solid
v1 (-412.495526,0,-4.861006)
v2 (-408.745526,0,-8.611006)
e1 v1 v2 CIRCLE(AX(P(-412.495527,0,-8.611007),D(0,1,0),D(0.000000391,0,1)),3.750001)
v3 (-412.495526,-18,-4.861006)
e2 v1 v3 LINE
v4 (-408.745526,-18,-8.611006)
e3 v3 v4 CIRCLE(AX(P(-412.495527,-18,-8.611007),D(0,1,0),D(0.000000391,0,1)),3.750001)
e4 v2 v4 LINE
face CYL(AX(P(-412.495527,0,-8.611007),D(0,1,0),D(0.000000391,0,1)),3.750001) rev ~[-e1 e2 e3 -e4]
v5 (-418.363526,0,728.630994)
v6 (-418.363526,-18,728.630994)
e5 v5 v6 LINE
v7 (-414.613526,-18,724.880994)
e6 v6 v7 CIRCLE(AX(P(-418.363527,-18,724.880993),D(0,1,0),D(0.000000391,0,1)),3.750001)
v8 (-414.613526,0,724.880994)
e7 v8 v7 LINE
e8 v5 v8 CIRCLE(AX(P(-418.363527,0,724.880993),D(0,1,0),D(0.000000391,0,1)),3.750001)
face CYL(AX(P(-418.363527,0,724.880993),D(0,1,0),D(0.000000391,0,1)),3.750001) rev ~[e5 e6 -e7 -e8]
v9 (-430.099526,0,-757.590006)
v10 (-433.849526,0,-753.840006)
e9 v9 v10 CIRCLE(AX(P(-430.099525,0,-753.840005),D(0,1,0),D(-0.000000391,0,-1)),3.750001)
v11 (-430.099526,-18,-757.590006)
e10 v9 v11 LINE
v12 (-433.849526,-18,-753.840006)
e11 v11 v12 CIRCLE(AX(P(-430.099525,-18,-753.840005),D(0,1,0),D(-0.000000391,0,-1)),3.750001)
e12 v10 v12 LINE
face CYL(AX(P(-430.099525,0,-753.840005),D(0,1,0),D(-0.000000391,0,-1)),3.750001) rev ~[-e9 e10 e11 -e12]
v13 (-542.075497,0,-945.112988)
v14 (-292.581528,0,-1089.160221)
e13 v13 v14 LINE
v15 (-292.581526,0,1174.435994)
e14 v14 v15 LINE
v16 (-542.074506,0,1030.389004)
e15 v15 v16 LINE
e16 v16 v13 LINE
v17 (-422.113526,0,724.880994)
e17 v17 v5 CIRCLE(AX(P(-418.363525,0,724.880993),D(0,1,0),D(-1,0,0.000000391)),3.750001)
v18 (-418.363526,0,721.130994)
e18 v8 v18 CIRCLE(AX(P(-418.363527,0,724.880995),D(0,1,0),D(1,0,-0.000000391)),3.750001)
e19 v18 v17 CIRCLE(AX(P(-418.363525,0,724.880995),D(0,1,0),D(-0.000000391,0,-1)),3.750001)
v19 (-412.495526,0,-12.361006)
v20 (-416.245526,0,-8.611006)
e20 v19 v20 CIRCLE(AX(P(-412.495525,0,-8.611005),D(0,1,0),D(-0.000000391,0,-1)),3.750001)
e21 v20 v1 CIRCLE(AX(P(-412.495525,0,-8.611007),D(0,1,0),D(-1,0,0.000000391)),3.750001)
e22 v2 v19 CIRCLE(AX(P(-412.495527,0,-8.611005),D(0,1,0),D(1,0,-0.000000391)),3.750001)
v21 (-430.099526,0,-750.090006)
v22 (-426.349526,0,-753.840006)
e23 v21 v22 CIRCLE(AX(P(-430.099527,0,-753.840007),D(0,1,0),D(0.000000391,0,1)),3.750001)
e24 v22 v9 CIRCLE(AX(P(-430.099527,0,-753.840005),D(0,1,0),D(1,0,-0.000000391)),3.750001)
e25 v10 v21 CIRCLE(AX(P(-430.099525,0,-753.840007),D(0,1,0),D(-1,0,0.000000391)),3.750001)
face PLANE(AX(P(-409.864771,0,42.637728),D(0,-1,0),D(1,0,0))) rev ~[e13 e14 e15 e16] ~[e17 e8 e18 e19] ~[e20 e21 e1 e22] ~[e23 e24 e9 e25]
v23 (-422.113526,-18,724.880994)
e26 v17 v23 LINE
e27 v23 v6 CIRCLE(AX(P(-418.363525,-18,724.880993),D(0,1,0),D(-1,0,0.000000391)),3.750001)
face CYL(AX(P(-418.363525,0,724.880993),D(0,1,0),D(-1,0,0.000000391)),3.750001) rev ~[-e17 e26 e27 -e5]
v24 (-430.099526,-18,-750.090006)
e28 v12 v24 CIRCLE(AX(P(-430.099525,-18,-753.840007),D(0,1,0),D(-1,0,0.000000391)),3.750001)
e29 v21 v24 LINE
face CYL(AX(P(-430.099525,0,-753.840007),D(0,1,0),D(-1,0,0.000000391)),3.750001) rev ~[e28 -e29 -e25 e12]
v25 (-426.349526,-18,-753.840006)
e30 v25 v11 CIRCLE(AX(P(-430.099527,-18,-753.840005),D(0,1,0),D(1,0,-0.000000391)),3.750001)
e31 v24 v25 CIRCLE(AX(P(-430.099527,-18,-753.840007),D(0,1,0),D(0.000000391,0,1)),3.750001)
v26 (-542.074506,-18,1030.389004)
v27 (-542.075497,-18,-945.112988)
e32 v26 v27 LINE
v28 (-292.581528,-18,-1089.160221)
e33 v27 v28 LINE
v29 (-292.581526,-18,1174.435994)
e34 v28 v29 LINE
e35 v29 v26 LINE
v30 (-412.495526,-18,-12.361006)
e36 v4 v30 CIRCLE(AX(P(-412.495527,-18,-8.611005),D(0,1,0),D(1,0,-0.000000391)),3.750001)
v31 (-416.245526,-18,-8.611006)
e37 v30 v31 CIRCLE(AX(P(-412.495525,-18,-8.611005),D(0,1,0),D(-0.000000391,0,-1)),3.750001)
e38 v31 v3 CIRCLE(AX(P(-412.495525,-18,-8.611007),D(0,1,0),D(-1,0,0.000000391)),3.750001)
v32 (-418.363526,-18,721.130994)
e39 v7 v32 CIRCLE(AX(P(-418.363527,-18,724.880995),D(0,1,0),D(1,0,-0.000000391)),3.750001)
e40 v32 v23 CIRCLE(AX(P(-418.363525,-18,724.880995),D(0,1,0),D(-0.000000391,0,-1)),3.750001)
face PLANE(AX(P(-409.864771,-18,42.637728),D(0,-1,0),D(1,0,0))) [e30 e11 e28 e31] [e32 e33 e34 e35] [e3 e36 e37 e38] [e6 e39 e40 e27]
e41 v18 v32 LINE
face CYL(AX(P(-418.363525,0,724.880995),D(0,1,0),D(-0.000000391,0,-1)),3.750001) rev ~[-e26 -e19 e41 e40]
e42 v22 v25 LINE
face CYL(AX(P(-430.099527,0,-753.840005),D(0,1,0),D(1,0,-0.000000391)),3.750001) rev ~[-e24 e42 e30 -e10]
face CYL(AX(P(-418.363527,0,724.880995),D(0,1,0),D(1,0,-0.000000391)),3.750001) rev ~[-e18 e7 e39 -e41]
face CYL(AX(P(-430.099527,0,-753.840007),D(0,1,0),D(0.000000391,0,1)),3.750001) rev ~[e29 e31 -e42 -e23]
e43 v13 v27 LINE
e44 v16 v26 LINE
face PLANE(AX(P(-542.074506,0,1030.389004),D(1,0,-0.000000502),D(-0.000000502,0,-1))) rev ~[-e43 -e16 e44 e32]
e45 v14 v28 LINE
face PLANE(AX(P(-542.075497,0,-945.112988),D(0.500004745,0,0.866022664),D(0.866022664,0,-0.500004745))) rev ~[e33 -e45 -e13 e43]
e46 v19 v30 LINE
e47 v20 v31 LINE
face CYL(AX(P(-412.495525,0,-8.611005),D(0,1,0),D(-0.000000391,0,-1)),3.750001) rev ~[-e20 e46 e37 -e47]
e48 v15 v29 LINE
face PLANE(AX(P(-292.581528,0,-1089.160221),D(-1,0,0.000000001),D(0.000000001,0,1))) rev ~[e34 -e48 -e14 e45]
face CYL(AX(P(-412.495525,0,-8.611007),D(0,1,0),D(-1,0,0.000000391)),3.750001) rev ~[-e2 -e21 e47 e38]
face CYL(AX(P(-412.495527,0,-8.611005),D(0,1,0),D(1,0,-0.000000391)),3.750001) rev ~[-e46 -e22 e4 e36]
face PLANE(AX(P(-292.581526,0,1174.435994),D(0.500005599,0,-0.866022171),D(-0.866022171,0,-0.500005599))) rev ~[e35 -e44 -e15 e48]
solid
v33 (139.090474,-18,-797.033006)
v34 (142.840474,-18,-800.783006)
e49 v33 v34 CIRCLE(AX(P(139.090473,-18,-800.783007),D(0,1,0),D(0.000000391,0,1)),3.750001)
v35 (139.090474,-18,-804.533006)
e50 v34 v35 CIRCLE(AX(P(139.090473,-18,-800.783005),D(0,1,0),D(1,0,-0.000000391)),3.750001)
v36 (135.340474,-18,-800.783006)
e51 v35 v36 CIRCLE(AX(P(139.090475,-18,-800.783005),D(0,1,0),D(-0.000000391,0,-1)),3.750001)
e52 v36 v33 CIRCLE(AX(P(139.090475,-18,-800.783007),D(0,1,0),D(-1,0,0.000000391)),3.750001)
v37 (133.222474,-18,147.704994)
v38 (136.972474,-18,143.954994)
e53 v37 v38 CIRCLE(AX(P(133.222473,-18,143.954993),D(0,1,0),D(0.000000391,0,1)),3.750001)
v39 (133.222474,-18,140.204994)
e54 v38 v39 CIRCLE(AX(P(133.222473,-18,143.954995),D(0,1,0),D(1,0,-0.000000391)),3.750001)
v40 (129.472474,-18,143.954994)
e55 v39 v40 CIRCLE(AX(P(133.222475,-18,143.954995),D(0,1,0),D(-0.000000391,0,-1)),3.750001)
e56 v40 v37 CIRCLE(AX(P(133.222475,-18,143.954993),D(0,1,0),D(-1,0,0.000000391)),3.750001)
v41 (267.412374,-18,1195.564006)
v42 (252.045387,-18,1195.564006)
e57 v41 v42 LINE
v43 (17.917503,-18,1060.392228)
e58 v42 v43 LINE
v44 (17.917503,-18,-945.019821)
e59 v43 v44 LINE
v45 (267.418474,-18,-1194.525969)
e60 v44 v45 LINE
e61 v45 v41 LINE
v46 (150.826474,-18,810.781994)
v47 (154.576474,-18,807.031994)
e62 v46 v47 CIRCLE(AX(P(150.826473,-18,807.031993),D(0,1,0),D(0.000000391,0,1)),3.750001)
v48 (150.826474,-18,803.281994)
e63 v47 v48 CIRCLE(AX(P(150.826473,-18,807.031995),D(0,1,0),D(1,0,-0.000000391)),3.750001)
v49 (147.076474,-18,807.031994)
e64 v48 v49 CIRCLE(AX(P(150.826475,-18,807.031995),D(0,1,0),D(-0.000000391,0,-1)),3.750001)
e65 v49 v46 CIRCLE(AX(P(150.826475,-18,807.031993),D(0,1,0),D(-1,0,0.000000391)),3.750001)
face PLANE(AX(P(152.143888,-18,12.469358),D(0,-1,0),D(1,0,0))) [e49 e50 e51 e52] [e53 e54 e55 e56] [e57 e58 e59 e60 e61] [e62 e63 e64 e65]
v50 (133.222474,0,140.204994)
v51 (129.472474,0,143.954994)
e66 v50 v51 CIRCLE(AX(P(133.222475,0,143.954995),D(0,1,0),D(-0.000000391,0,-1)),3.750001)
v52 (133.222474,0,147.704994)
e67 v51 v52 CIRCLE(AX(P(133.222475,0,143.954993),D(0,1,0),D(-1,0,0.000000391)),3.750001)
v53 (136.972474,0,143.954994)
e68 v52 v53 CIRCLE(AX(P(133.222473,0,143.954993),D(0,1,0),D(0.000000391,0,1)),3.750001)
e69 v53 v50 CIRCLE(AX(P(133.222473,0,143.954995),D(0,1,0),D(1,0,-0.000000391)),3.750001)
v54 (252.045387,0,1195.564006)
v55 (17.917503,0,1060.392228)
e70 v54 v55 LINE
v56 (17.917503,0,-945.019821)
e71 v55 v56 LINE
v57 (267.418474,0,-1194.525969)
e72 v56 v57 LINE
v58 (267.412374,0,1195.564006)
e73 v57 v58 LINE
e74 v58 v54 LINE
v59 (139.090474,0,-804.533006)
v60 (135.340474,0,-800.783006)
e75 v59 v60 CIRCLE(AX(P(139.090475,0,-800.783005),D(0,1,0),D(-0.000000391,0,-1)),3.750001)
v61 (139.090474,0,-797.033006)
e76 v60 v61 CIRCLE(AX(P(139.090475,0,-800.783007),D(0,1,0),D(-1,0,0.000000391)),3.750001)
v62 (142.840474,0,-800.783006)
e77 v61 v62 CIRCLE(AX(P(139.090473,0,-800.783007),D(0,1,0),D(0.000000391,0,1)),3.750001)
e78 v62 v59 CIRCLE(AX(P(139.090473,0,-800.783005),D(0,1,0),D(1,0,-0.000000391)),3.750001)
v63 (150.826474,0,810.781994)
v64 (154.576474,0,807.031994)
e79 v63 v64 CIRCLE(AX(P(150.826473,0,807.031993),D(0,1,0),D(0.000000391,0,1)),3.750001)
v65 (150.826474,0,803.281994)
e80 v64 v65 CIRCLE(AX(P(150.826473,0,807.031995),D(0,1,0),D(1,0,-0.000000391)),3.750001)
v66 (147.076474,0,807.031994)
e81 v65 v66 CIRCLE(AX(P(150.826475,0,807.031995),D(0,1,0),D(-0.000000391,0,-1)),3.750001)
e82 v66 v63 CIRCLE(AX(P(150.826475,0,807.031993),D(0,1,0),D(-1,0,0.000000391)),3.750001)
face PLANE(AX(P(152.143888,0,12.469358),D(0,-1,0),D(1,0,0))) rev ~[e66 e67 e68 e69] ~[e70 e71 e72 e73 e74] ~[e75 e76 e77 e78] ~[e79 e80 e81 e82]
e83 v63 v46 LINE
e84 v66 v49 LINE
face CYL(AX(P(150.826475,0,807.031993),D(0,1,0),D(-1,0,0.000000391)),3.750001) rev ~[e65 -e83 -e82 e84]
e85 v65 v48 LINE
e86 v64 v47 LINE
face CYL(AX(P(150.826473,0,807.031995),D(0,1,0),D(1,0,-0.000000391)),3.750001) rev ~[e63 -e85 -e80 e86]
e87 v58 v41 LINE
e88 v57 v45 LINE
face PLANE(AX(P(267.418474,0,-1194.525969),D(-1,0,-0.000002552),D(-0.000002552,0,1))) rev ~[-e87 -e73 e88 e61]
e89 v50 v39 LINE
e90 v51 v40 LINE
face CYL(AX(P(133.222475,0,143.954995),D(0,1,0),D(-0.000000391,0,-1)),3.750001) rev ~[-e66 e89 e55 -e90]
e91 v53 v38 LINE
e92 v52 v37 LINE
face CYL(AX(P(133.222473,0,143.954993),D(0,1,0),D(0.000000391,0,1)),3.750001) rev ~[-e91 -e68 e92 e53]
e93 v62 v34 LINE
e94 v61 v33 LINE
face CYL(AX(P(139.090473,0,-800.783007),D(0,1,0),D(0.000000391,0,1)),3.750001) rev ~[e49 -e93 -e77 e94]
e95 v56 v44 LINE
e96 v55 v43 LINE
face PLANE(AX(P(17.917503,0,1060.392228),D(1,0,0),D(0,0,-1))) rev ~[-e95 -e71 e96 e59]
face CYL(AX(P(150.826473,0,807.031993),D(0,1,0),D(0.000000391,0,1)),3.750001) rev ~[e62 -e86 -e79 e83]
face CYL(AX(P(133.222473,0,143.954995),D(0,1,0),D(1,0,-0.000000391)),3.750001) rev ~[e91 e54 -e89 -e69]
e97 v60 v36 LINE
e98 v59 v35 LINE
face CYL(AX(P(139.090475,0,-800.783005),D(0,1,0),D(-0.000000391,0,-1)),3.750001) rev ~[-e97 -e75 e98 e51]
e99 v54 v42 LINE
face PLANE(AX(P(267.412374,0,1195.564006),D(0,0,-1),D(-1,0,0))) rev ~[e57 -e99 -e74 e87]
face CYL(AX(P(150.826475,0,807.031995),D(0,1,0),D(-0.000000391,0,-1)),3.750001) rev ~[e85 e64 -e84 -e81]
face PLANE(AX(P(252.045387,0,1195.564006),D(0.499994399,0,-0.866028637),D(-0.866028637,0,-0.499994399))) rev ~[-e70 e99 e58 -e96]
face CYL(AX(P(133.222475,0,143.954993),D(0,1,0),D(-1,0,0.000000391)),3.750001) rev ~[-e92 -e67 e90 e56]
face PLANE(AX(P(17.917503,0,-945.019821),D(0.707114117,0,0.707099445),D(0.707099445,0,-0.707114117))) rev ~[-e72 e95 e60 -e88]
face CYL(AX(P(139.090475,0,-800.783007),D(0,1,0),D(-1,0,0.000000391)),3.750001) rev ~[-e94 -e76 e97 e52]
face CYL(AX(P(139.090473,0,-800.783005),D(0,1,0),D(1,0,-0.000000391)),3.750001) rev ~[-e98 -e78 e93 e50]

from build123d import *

# Parameters (mm, degrees)
F1_DEPTH = 18
F2_DEPTH = 18


with BuildPart() as f1:
    # F0 (on Front) → F1 (new body)
    with BuildSketch(Plane.XZ):
        Polygon((-292.581528, -1089.160221), (-292.581526, 1174.435994), (-542.074506, 1030.389004), (-542.075497, -945.112988), align=None)
        with BuildLine():
            ThreePointArc((-433.849526, -753.840006), (-432.751176, -751.188356), (-430.099526, -750.090006))
            ThreePointArc((-430.099526, -750.090006), (-427.447876, -751.188356), (-426.349526, -753.840006))
            ThreePointArc((-426.349526, -753.840006), (-427.447876, -756.491656), (-430.099526, -757.590006))
            ThreePointArc((-430.099526, -757.590006), (-432.751176, -756.491656), (-433.849526, -753.840006))
        make_face(mode=Mode.SUBTRACT)
        with BuildLine():
            ThreePointArc((-416.245526, -8.611006), (-415.147176, -5.959356), (-412.495526, -4.861006))
            ThreePointArc((-412.495526, -4.861006), (-409.843876, -5.959356), (-408.745526, -8.611006))
            ThreePointArc((-408.745526, -8.611006), (-409.843876, -11.262656), (-412.495526, -12.361006))
            ThreePointArc((-412.495526, -12.361006), (-415.147176, -11.262656), (-416.245526, -8.611006))
        make_face(mode=Mode.SUBTRACT)
        Polygon((-428.823632, 92.789807), (-428.8264, 93.203596), (-428.829803, 93.623463), (-428.822563, 94.042433), (-428.804756, 94.460314), (-428.776457, 94.876914), (-428.737742, 95.292039), (-428.688687, 95.705497), (-428.629367, 96.117094), (-428.559858, 96.526638), (-428.480236, 96.933936), (-428.390576, 97.338795), (-428.290955, 97.741022), (-428.181447, 98.140424), (-428.062128, 98.536809), (-427.933075, 98.929984), (-427.794363, 99.319755), (-427.646067, 99.70593), (-427.488263, 100.088315), (-427.321027, 100.466719), (-427.144434, 100.840948), (-426.958561, 101.21081), (-426.763483, 101.576111), (-426.559276, 101.936658), (-426.346014, 102.292259), (-426.123775, 102.642721), (-425.892633, 102.987851), (-425.652665, 103.327456), (-425.403946, 103.661344), (-425.146551, 103.98932), (-424.880557, 104.311193), (-424.606039, 104.62677), (-424.323072, 104.935858), (-424.031733, 105.238263), (-423.651452, 105.588123), (-423.263264, 105.927644), (-422.867403, 106.256738), (-422.464103, 106.575315), (-422.053598, 106.883287), (-421.636122, 107.180564), (-421.211908, 107.467058), (-420.781192, 107.74268), (-420.344205, 108.007341), (-419.901183, 108.260952), (-419.452359, 108.503424), (-418.997968, 108.734669), (-418.538242, 108.954598), (-418.073416, 109.163121), (-417.603724, 109.36015), (-417.1294, 109.545596), (-416.650677, 109.71937), (-416.16779, 109.881384), (-415.680972, 110.031548), (-415.190457, 110.169773), (-414.69648, 110.295971), (-414.199273, 110.410053), (-413.699071, 110.51193), (-413.196108, 110.601513), (-412.690618, 110.678713), (-412.182834, 110.743441), (-411.672991, 110.795609), (-411.161322, 110.835127), (-410.648061, 110.861908), (-410.133442, 110.875861), (-409.617699, 110.876898), (-409.101067, 110.86493), (-408.539946, 110.881001), (-407.979756, 110.882779), (-407.420757, 110.870361), (-406.863207, 110.843846), (-406.307367, 110.803331), (-405.753494, 110.748914), (-405.20185, 110.680692), (-404.652692, 110.598763), (-404.10628, 110.503225), (-403.562873, 110.394174), (-403.022731, 110.27171), (-402.486113, 110.13593), (-401.953279, 109.98693), (-401.424486, 109.82481), (-400.899996, 109.649666), (-400.380067, 109.461596), (-399.864957, 109.260698), (-399.354928, 109.04707), (-398.850237, 108.820809), (-398.351145, 108.582013), (-397.85791, 108.330779), (-397.370791, 108.067206), (-396.890049, 107.79139), (-396.415942, 107.50343), (-395.948729, 107.203422), (-395.48867, 106.891466), (-395.036024, 106.567658), (-394.591051, 106.232096), (-394.154009, 105.884878), (-393.725158, 105.526101), (-393.304758, 105.155864), (-392.893067, 104.774263), (-392.602393, 104.488514), (-392.319925, 104.195899), (-392.045746, 103.896613), (-391.779936, 103.590851), (-391.522578, 103.278811), (-391.273752, 102.960687), (-391.033541, 102.636675), (-390.802025, 102.306971), (-390.579287, 101.971771), (-390.365407, 101.631271), (-390.160468, 101.285667), (-389.964551, 100.935154), (-389.777737, 100.579927), (-389.600109, 100.220184), (-389.431747, 99.85612), (-389.272733, 99.48793), (-389.123149, 99.11581), (-388.983076, 98.739956), (-388.852596, 98.360565), (-388.731791, 97.977831), (-388.620741, 97.59195), (-388.519528, 97.203119), (-388.428235, 96.811533), (-388.346942, 96.417388), (-388.275731, 96.02088), (-388.214683, 95.622204), (-388.163881, 95.221556), (-388.123405, 94.819133), (-388.093338, 94.415129), (-388.07376, 94.009741), (-388.064754, 93.603165), (-388.0664, 93.195596), (-388.070073, 92.781348), (-388.084537, 92.368236), (-388.109707, 91.956457), (-388.145499, 91.546211), (-388.191828, 91.137695), (-388.248609, 90.731108), (-388.315758, 90.326648), (-388.393192, 89.924513), (-388.480824, 89.524901), (-388.578571, 89.128012), (-388.686349, 88.734042), (-388.804072, 88.34319), (-388.931656, 87.955655), (-389.069018, 87.571634), (-389.216072, 87.191326), (-389.372733, 86.81493), (-389.538918, 86.442642), (-389.714542, 86.074663), (-389.899521, 85.711189), (-390.09377, 85.352419), (-390.297204, 84.998552), (-390.509739, 84.649785), (-390.731291, 84.306317), (-390.961775, 83.968346), (-391.201107, 83.636071), (-391.449201, 83.309689), (-391.705975, 82.989398), (-391.971343, 82.675398), (-392.24522, 82.367886), (-392.527523, 82.067061), (-392.818167, 81.77312), (-393.117067, 81.486263), (-393.526595, 81.116083), (-393.94451, 80.757104), (-394.370559, 80.409418), (-394.804488, 80.073117), (-395.246045, 79.748293), (-395.694975, 79.435036), (-396.151025, 79.13344), (-396.613942, 78.843596), (-397.083472, 78.565596), (-397.559361, 78.299531), (-398.041358, 78.045494), (-398.529207, 77.803575), (-399.022656, 77.573868), (-399.521451, 77.356463), (-400.025339, 77.151453), (-400.534067, 76.95893), (-401.04738, 76.778984), (-401.565026, 76.611708), (-402.08675, 76.457194), (-402.612301, 76.315534), (-403.141424, 76.186819), (-403.673865, 76.071141), (-404.209372, 75.968591), (-404.747692, 75.879263), (-405.288569, 75.803247), (-405.831752, 75.740635), (-406.376987, 75.69152), (-406.92402, 75.655992), (-407.472598, 75.634144), (-408.022467, 75.626068), (-408.573374, 75.631854), (-409.125067, 75.651596), (-409.639894, 75.643167), (-410.15372, 75.647818), (-410.666306, 75.665457), (-411.177416, 75.695992), (-411.686813, 75.739332), (-412.19426, 75.795385), (-412.699521, 75.864059), (-413.202358, 75.945263), (-413.702536, 76.038904), (-414.199816, 76.144891), (-414.693962, 76.263131), (-415.184738, 76.393534), (-415.671907, 76.536007), (-416.155231, 76.690458), (-416.634475, 76.856796), (-417.1094, 77.03493), (-417.579771, 77.224766), (-418.04535, 77.426213), (-418.505901, 77.639181), (-418.961186, 77.863575), (-419.41097, 78.099306), (-419.855015, 78.346281), (-420.293085, 78.604408), (-420.724942, 78.873596), (-421.150349, 79.153753), (-421.569071, 79.444786), (-421.98087, 79.746605), (-422.385509, 80.059117), (-422.782752, 80.382231), (-423.172361, 80.715854), (-423.554101, 81.059895), (-423.927733, 81.414263), (-424.218947, 81.708169), (-424.502035, 82.008762), (-424.776919, 82.315854), (-425.04352, 82.629258), (-425.30176, 82.948784), (-425.551559, 83.274245), (-425.792841, 83.605454), (-426.025525, 83.942221), (-426.249533, 84.28436), (-426.464787, 84.631682), (-426.671208, 84.983998), (-426.868718, 85.341122), (-427.057237, 85.702865), (-427.236687, 86.06904), (-427.40699, 86.439457), (-427.568067, 86.81393), (-427.719839, 87.192269), (-427.862227, 87.574288), (-427.995154, 87.959798), (-428.118541, 88.348612), (-428.232308, 88.740541), (-428.336377, 89.135396), (-428.43067, 89.532992), (-428.515108, 89.933138), (-428.589613, 90.335648), (-428.654105, 90.740333), (-428.708506, 91.147005), (-428.752738, 91.555476), (-428.786722, 91.965559), (-428.81038, 92.377066), align=None, mode=Mode.SUBTRACT)
        Polygon((-428.823632, 137.035141), (-428.8264, 137.44893), (-428.829803, 137.868796), (-428.822563, 138.287766), (-428.804756, 138.705648), (-428.776457, 139.122247), (-428.737742, 139.537372), (-428.688687, 139.95083), (-428.629367, 140.362427), (-428.559858, 140.771971), (-428.480236, 141.179269), (-428.390576, 141.584128), (-428.290955, 141.986355), (-428.181447, 142.385758), (-428.062128, 142.782143), (-427.933075, 143.175317), (-427.794363, 143.565088), (-427.646067, 143.951263), (-427.488263, 144.333649), (-427.321027, 144.712053), (-427.144434, 145.086282), (-426.958561, 145.456143), (-426.763483, 145.821444), (-426.559276, 146.181991), (-426.346014, 146.537593), (-426.123775, 146.888055), (-425.892633, 147.233185), (-425.652665, 147.57279), (-425.403946, 147.906677), (-425.146551, 148.234654), (-424.880557, 148.556527), (-424.606039, 148.872103), (-424.323072, 149.181191), (-424.031733, 149.483596), (-423.651452, 149.833456), (-423.263264, 150.172978), (-422.867403, 150.502071), (-422.464103, 150.820648), (-422.053598, 151.12862), (-421.636122, 151.425897), (-421.211908, 151.712391), (-420.781192, 151.988013), (-420.344205, 152.252674), (-419.901183, 152.506285), (-419.452359, 152.748758), (-418.997968, 152.980002), (-418.538242, 153.199931), (-418.073416, 153.408454), (-417.603724, 153.605483), (-417.1294, 153.79093), (-416.650677, 153.964704), (-416.16779, 154.126717), (-415.680972, 154.276881), (-415.190457, 154.415107), (-414.69648, 154.541305), (-414.199273, 154.655387), (-413.699071, 154.757263), (-413.196108, 154.846846), (-412.690618, 154.924046), (-412.182834, 154.988775), (-411.672991, 155.040942), (-411.161322, 155.080461), (-410.648061, 155.107241), (-410.133442, 155.121194), (-409.617699, 155.122231), (-409.101067, 155.110263), (-408.539946, 155.126334), (-407.979756, 155.128112), (-407.420757, 155.115695), (-406.863207, 155.08918), (-406.307367, 155.048665), (-405.753494, 154.994247), (-405.20185, 154.926025), (-404.652692, 154.844096), (-404.10628, 154.748558), (-403.562873, 154.639508), (-403.022731, 154.517044), (-402.486113, 154.381263), (-401.953279, 154.232264), (-401.424486, 154.070143), (-400.899996, 153.894999), (-400.380067, 153.70693), (-399.864957, 153.506032), (-399.354928, 153.292404), (-398.850237, 153.066142), (-398.351145, 152.827346), (-397.85791, 152.576113), (-397.370791, 152.312539), (-396.890049, 152.036723), (-396.415942, 151.748763), (-395.948729, 151.448756), (-395.48867, 151.136799), (-395.036024, 150.812991), (-394.591051, 150.47743), (-394.154009, 150.130211), (-393.725158, 149.771435), (-393.304758, 149.401197), (-392.893067, 149.019596), (-392.602393, 148.733848), (-392.319925, 148.441232), (-392.045746, 148.141946), (-391.779936, 147.836185), (-391.522578, 147.524144), (-391.273752, 147.20602), (-391.033541, 146.882008), (-390.802025, 146.552305), (-390.579287, 146.217105), (-390.365407, 145.876605), (-390.160468, 145.531), (-389.964551, 145.180487), (-389.777737, 144.825261), (-389.600109, 144.465517), (-389.431747, 144.101453), (-389.272733, 143.733263), (-389.123149, 143.361143), (-388.983076, 142.98529), (-388.852596, 142.605898), (-388.731791, 142.223164), (-388.620741, 141.837284), (-388.519528, 141.448452), (-388.428235, 141.056866), (-388.346942, 140.662721), (-388.275731, 140.266213), (-388.214683, 139.867537), (-388.163881, 139.466889), (-388.123405, 139.064466), (-388.093338, 138.660463), (-388.07376, 138.255075), (-388.064754, 137.848499), (-388.0664, 137.44093), (-388.070073, 137.026681), (-388.084537, 136.613569), (-388.109707, 136.20179), (-388.145499, 135.791544), (-388.191828, 135.383028), (-388.248609, 134.976441), (-388.315758, 134.571981), (-388.393192, 134.169846), (-388.480824, 133.770235), (-388.578571, 133.373345), (-388.686349, 132.979375), (-388.804072, 132.588523), (-388.931656, 132.200988), (-389.069018, 131.816967), (-389.216072, 131.43666), (-389.372733, 131.060263), (-389.538918, 130.687976), (-389.714542, 130.319996), (-389.899521, 129.956522), (-390.09377, 129.597752), (-390.297204, 129.243885), (-390.509739, 128.895118), (-390.731291, 128.55165), (-390.961775, 128.21368), (-391.201107, 127.881404), (-391.449201, 127.555022), (-391.705975, 127.234732), (-391.971343, 126.920732), (-392.24522, 126.61322), (-392.527523, 126.312394), (-392.818167, 126.018454), (-393.117067, 125.731596), (-393.526595, 125.361416), (-393.94451, 125.002437), (-394.370559, 124.654752), (-394.804488, 124.31845), (-395.246045, 123.993626), (-395.694975, 123.68037), (-396.151025, 123.378774), (-396.613942, 123.08893), (-397.083472, 122.810929), (-397.559361, 122.544864), (-398.041358, 122.290827), (-398.529207, 122.048909), (-399.022656, 121.819201), (-399.521451, 121.601797), (-400.025339, 121.396787), (-400.534067, 121.204263), (-401.04738, 121.024317), (-401.565026, 120.857042), (-402.08675, 120.702528), (-402.612301, 120.560867), (-403.141424, 120.432152), (-403.673865, 120.316474), (-404.209372, 120.213925), (-404.747692, 120.124596), (-405.288569, 120.04858), (-405.831752, 119.985969), (-406.376987, 119.936853), (-406.92402, 119.901325), (-407.472598, 119.879477), (-408.022467, 119.871401), (-408.573374, 119.877188), (-409.125067, 119.89693), (-409.639894, 119.8885), (-410.15372, 119.893151), (-410.666306, 119.91079), (-411.177416, 119.941325), (-411.686813, 119.984666), (-412.19426, 120.040719), (-412.699521, 120.109393), (-413.202358, 120.190596), (-413.702536, 120.284237), (-414.199816, 120.390224), (-414.693962, 120.508464), (-415.184738, 120.638867), (-415.671907, 120.78134), (-416.155231, 120.935792), (-416.634475, 121.10213), (-417.1094, 121.280263), (-417.579771, 121.470099), (-418.04535, 121.671547), (-418.505901, 121.884514), (-418.961186, 122.108909), (-419.41097, 122.34464), (-419.855015, 122.591614), (-420.293085, 122.849742), (-420.724942, 123.11893), (-421.150349, 123.399086), (-421.569071, 123.69012), (-421.98087, 123.991938), (-422.385509, 124.30445), (-422.782752, 124.627564), (-423.172361, 124.961187), (-423.554101, 125.305229), (-423.927733, 125.659596), (-424.218947, 125.953502), (-424.502035, 126.254096), (-424.776919, 126.561188), (-425.04352, 126.874591), (-425.30176, 127.194117), (-425.551559, 127.519579), (-425.792841, 127.850787), (-426.025525, 128.187555), (-426.249533, 128.529693), (-426.464787, 128.877015), (-426.671208, 129.229332), (-426.868718, 129.586456), (-427.057237, 129.948199), (-427.236687, 130.314373), (-427.40699, 130.68479), (-427.568067, 131.059263), (-427.719839, 131.437603), (-427.862227, 131.819622), (-427.995154, 132.205132), (-428.118541, 132.593945), (-428.232308, 132.985874), (-428.336377, 133.38073), (-428.43067, 133.778325), (-428.515108, 134.178471), (-428.589613, 134.580981), (-428.654105, 134.985666), (-428.708506, 135.392338), (-428.752738, 135.80081), (-428.786722, 136.210893), (-428.81038, 136.622399), align=None, mode=Mode.SUBTRACT)
        Polygon((-408.277067, 172.69693), (-408.277067, 190.254263), (-388.3064, 190.254263), (-388.3064, 172.69693), (-388.309804, 172.202554), (-388.338754, 171.711049), (-388.392861, 171.22335), (-388.471733, 170.740388), (-388.574981, 170.263098), (-388.702212, 169.792414), (-388.853038, 169.329269), (-389.027067, 168.874596), (-389.223908, 168.42933), (-389.443171, 167.994404), (-389.684465, 167.570751), (-389.9474, 167.159305), (-390.231585, 166.760999), (-390.536629, 166.376768), (-390.862142, 166.007545), (-391.207733, 165.654263), (-391.559241, 165.313824), (-391.926171, 164.992752), (-392.307632, 164.691415), (-392.702733, 164.41018), (-393.110585, 164.149413), (-393.530296, 163.909482), (-393.960975, 163.690754), (-394.401733, 163.493596), (-394.851679, 163.318376), (-395.309921, 163.165461), (-395.775569, 163.035217), (-396.247733, 162.928013), (-396.725522, 162.844215), (-397.208046, 162.78419), (-397.694413, 162.748306), (-398.183733, 162.73693), (-398.685294, 162.73396), (-399.184348, 162.756799), (-399.679948, 162.805068), (-400.17115, 162.878388), (-400.657008, 162.976379), (-401.136577, 163.098664), (-401.608912, 163.244863), (-402.073067, 163.414596), (-402.528097, 163.607486), (-402.973056, 163.823154), (-403.407, 164.061219), (-403.828983, 164.321305), (-404.23806, 164.60303), (-404.633285, 164.906018), (-405.013714, 165.229889), (-405.3784, 165.574263), (-405.722526, 165.934391), (-406.046655, 166.310159), (-406.350417, 166.700646), (-406.633442, 167.10493), (-406.895356, 167.522088), (-407.135791, 167.9512), (-407.354373, 168.391344), (-407.550733, 168.841596), (-407.7245, 169.301036), (-407.875301, 169.768742), (-408.002766, 170.243792), (-408.106525, 170.725263), (-408.186205, 171.212234), (-408.241436, 171.703784), (-408.271847, 172.198989), align=None, mode=Mode.SUBTRACT)
        with BuildLine():
            ThreePointArc((-422.113526, 724.880994), (-421.015176, 727.532644), (-418.363526, 728.630994))
            ThreePointArc((-418.363526, 728.630994), (-415.711876, 727.532644), (-414.613526, 724.880994))
            ThreePointArc((-414.613526, 724.880994), (-415.711876, 722.229344), (-418.363526, 721.130994))
            ThreePointArc((-418.363526, 721.130994), (-421.015176, 722.229344), (-422.113526, 724.880994))
        make_face(mode=Mode.SUBTRACT)
        Polygon((-388.3064, 190.254263), (-408.277067, 190.254263), (-408.277067, 172.69693), (-408.271847, 172.198989), (-408.241436, 171.703784), (-408.186205, 171.212234), (-408.106525, 170.725263), (-408.002766, 170.243792), (-407.875301, 169.768742), (-407.7245, 169.301036), (-407.550733, 168.841596), (-407.354373, 168.391344), (-407.135791, 167.9512), (-406.895356, 167.522088), (-406.633442, 167.10493), (-406.350417, 166.700646), (-406.046655, 166.310159), (-405.722526, 165.934391), (-405.3784, 165.574263), (-405.013714, 165.229889), (-404.633285, 164.906018), (-404.23806, 164.60303), (-403.828983, 164.321305), (-403.407, 164.061219), (-402.973056, 163.823154), (-402.528097, 163.607486), (-402.073067, 163.414596), (-401.608912, 163.244863), (-401.136577, 163.098664), (-400.657008, 162.976379), (-400.17115, 162.878388), (-399.679948, 162.805068), (-399.184348, 162.756799), (-398.685294, 162.73396), (-398.183733, 162.73693), (-397.694413, 162.748306), (-397.208046, 162.78419), (-396.725522, 162.844215), (-396.247733, 162.928013), (-395.775569, 163.035217), (-395.309921, 163.165461), (-394.851679, 163.318376), (-394.401733, 163.493596), (-393.960975, 163.690754), (-393.530296, 163.909482), (-393.110585, 164.149413), (-392.702733, 164.41018), (-392.307632, 164.691415), (-391.926171, 164.992752), (-391.559241, 165.313824), (-391.207733, 165.654263), (-390.862142, 166.007545), (-390.536629, 166.376768), (-390.231585, 166.760999), (-389.9474, 167.159305), (-389.684465, 167.570751), (-389.443171, 167.994404), (-389.223908, 168.42933), (-389.027067, 168.874596), (-388.853038, 169.329269), (-388.702212, 169.792414), (-388.574981, 170.263098), (-388.471733, 170.740388), (-388.392861, 171.22335), (-388.338754, 171.711049), (-388.309804, 172.202554), (-388.3064, 172.69693), align=None)
        Polygon((-428.829803, 137.868796), (-428.8264, 137.44893), (-428.823632, 137.035141), (-428.81038, 136.622399), (-428.786722, 136.210893), (-428.752738, 135.80081), (-428.708506, 135.392338), (-428.654105, 134.985666), (-428.589613, 134.580981), (-428.515108, 134.178471), (-428.43067, 133.778325), (-428.336377, 133.38073), (-428.232308, 132.985874), (-428.118541, 132.593945), (-427.995154, 132.205132), (-427.862227, 131.819622), (-427.719839, 131.437603), (-427.568067, 131.059263), (-427.40699, 130.68479), (-427.236687, 130.314373), (-427.057237, 129.948199), (-426.868718, 129.586456), (-426.671208, 129.229332), (-426.464787, 128.877015), (-426.249533, 128.529693), (-426.025525, 128.187555), (-425.792841, 127.850787), (-425.551559, 127.519579), (-425.30176, 127.194117), (-425.04352, 126.874591), (-424.776919, 126.561188), (-424.502035, 126.254096), (-424.218947, 125.953502), (-423.927733, 125.659596), (-423.554101, 125.305229), (-423.172361, 124.961187), (-422.782752, 124.627564), (-422.385509, 124.30445), (-421.98087, 123.991938), (-421.569071, 123.69012), (-421.150349, 123.399086), (-420.724942, 123.11893), (-420.293085, 122.849742), (-419.855015, 122.591614), (-419.41097, 122.34464), (-418.961186, 122.108909), (-418.505901, 121.884514), (-418.04535, 121.671547), (-417.579771, 121.470099), (-417.1094, 121.280263), (-416.634475, 121.10213), (-416.155231, 120.935792), (-415.671907, 120.78134), (-415.184738, 120.638867), (-414.693962, 120.508464), (-414.199816, 120.390224), (-413.702536, 120.284237), (-413.202358, 120.190596), (-412.699521, 120.109393), (-412.19426, 120.040719), (-411.686813, 119.984666), (-411.177416, 119.941325), (-410.666306, 119.91079), (-410.15372, 119.893151), (-409.639894, 119.8885), (-409.125067, 119.89693), (-408.573374, 119.877188), (-408.022467, 119.871401), (-407.472598, 119.879477), (-406.92402, 119.901325), (-406.376987, 119.936853), (-405.831752, 119.985969), (-405.288569, 120.04858), (-404.747692, 120.124596), (-404.209372, 120.213925), (-403.673865, 120.316474), (-403.141424, 120.432152), (-402.612301, 120.560867), (-402.08675, 120.702528), (-401.565026, 120.857042), (-401.04738, 121.024317), (-400.534067, 121.204263), (-400.025339, 121.396787), (-399.521451, 121.601797), (-399.022656, 121.819201), (-398.529207, 122.048909), (-398.041358, 122.290827), (-397.559361, 122.544864), (-397.083472, 122.810929), (-396.613942, 123.08893), (-396.151025, 123.378774), (-395.694975, 123.68037), (-395.246045, 123.993626), (-394.804488, 124.31845), (-394.370559, 124.654752), (-393.94451, 125.002437), (-393.526595, 125.361416), (-393.117067, 125.731596), (-392.818167, 126.018454), (-392.527523, 126.312394), (-392.24522, 126.61322), (-391.971343, 126.920732), (-391.705975, 127.234732), (-391.449201, 127.555022), (-391.201107, 127.881404), (-390.961775, 128.21368), (-390.731291, 128.55165), (-390.509739, 128.895118), (-390.297204, 129.243885), (-390.09377, 129.597752), (-389.899521, 129.956522), (-389.714542, 130.319996), (-389.538918, 130.687976), (-389.372733, 131.060263), (-389.216072, 131.43666), (-389.069018, 131.816967), (-388.931656, 132.200988), (-388.804072, 132.588523), (-388.686349, 132.979375), (-388.578571, 133.373345), (-388.480824, 133.770235), (-388.393192, 134.169846), (-388.315758, 134.571981), (-388.248609, 134.976441), (-388.191828, 135.383028), (-388.145499, 135.791544), (-388.109707, 136.20179), (-388.084537, 136.613569), (-388.070073, 137.026681), (-388.0664, 137.44093), (-388.064754, 137.848499), (-388.07376, 138.255075), (-388.093338, 138.660463), (-388.123405, 139.064466), (-388.163881, 139.466889), (-388.214683, 139.867537), (-388.275731, 140.266213), (-388.346942, 140.662721), (-388.428235, 141.056866), (-388.519528, 141.448452), (-388.620741, 141.837284), (-388.731791, 142.223164), (-388.852596, 142.605898), (-388.983076, 142.98529), (-389.123149, 143.361143), (-389.272733, 143.733263), (-389.431747, 144.101453), (-389.600109, 144.465517), (-389.777737, 144.825261), (-389.964551, 145.180487), (-390.160468, 145.531), (-390.365407, 145.876605), (-390.579287, 146.217105), (-390.802025, 146.552305), (-391.033541, 146.882008), (-391.273752, 147.20602), (-391.522578, 147.524144), (-391.779936, 147.836185), (-392.045746, 148.141946), (-392.319925, 148.441232), (-392.602393, 148.733848), (-392.893067, 149.019596), (-393.304758, 149.401197), (-393.725158, 149.771435), (-394.154009, 150.130211), (-394.591051, 150.47743), (-395.036024, 150.812991), (-395.48867, 151.136799), (-395.948729, 151.448756), (-396.415942, 151.748763), (-396.890049, 152.036723), (-397.370791, 152.312539), (-397.85791, 152.576113), (-398.351145, 152.827346), (-398.850237, 153.066142), (-399.354928, 153.292404), (-399.864957, 153.506032), (-400.380067, 153.70693), (-400.899996, 153.894999), (-401.424486, 154.070143), (-401.953279, 154.232264), (-402.486113, 154.381263), (-403.022731, 154.517044), (-403.562873, 154.639508), (-404.10628, 154.748558), (-404.652692, 154.844096), (-405.20185, 154.926025), (-405.753494, 154.994247), (-406.307367, 155.048665), (-406.863207, 155.08918), (-407.420757, 155.115695), (-407.979756, 155.128112), (-408.539946, 155.126334), (-409.101067, 155.110263), (-409.617699, 155.122231), (-410.133442, 155.121194), (-410.648061, 155.107241), (-411.161322, 155.080461), (-411.672991, 155.040942), (-412.182834, 154.988775), (-412.690618, 154.924046), (-413.196108, 154.846846), (-413.699071, 154.757263), (-414.199273, 154.655387), (-414.69648, 154.541305), (-415.190457, 154.415107), (-415.680972, 154.276881), (-416.16779, 154.126717), (-416.650677, 153.964704), (-417.1294, 153.79093), (-417.603724, 153.605483), (-418.073416, 153.408454), (-418.538242, 153.199931), (-418.997968, 152.980002), (-419.452359, 152.748758), (-419.901183, 152.506285), (-420.344205, 152.252674), (-420.781192, 151.988013), (-421.211908, 151.712391), (-421.636122, 151.425897), (-422.053598, 151.12862), (-422.464103, 150.820648), (-422.867403, 150.502071), (-423.263264, 150.172978), (-423.651452, 149.833456), (-424.031733, 149.483596), (-424.323072, 149.181191), (-424.606039, 148.872103), (-424.880557, 148.556527), (-425.146551, 148.234654), (-425.403946, 147.906677), (-425.652665, 147.57279), (-425.892633, 147.233185), (-426.123775, 146.888055), (-426.346014, 146.537593), (-426.559276, 146.181991), (-426.763483, 145.821444), (-426.958561, 145.456143), (-427.144434, 145.086282), (-427.321027, 144.712053), (-427.488263, 144.333649), (-427.646067, 143.951263), (-427.794363, 143.565088), (-427.933075, 143.175317), (-428.062128, 142.782143), (-428.181447, 142.385758), (-428.290955, 141.986355), (-428.390576, 141.584128), (-428.480236, 141.179269), (-428.559858, 140.771971), (-428.629367, 140.362427), (-428.688687, 139.95083), (-428.737742, 139.537372), (-428.776457, 139.122247), (-428.804756, 138.705648), (-428.822563, 138.287766), align=None)
        Polygon((-428.829803, 93.623463), (-428.8264, 93.203596), (-428.823632, 92.789807), (-428.81038, 92.377066), (-428.786722, 91.965559), (-428.752738, 91.555476), (-428.708506, 91.147005), (-428.654105, 90.740333), (-428.589613, 90.335648), (-428.515108, 89.933138), (-428.43067, 89.532992), (-428.336377, 89.135396), (-428.232308, 88.740541), (-428.118541, 88.348612), (-427.995154, 87.959798), (-427.862227, 87.574288), (-427.719839, 87.192269), (-427.568067, 86.81393), (-427.40699, 86.439457), (-427.236687, 86.06904), (-427.057237, 85.702865), (-426.868718, 85.341122), (-426.671208, 84.983998), (-426.464787, 84.631682), (-426.249533, 84.28436), (-426.025525, 83.942221), (-425.792841, 83.605454), (-425.551559, 83.274245), (-425.30176, 82.948784), (-425.04352, 82.629258), (-424.776919, 82.315854), (-424.502035, 82.008762), (-424.218947, 81.708169), (-423.927733, 81.414263), (-423.554101, 81.059895), (-423.172361, 80.715854), (-422.782752, 80.382231), (-422.385509, 80.059117), (-421.98087, 79.746605), (-421.569071, 79.444786), (-421.150349, 79.153753), (-420.724942, 78.873596), (-420.293085, 78.604408), (-419.855015, 78.346281), (-419.41097, 78.099306), (-418.961186, 77.863575), (-418.505901, 77.639181), (-418.04535, 77.426213), (-417.579771, 77.224766), (-417.1094, 77.03493), (-416.634475, 76.856796), (-416.155231, 76.690458), (-415.671907, 76.536007), (-415.184738, 76.393534), (-414.693962, 76.263131), (-414.199816, 76.144891), (-413.702536, 76.038904), (-413.202358, 75.945263), (-412.699521, 75.864059), (-412.19426, 75.795385), (-411.686813, 75.739332), (-411.177416, 75.695992), (-410.666306, 75.665457), (-410.15372, 75.647818), (-409.639894, 75.643167), (-409.125067, 75.651596), (-408.573374, 75.631854), (-408.022467, 75.626068), (-407.472598, 75.634144), (-406.92402, 75.655992), (-406.376987, 75.69152), (-405.831752, 75.740635), (-405.288569, 75.803247), (-404.747692, 75.879263), (-404.209372, 75.968591), (-403.673865, 76.071141), (-403.141424, 76.186819), (-402.612301, 76.315534), (-402.08675, 76.457194), (-401.565026, 76.611708), (-401.04738, 76.778984), (-400.534067, 76.95893), (-400.025339, 77.151453), (-399.521451, 77.356463), (-399.022656, 77.573868), (-398.529207, 77.803575), (-398.041358, 78.045494), (-397.559361, 78.299531), (-397.083472, 78.565596), (-396.613942, 78.843596), (-396.151025, 79.13344), (-395.694975, 79.435036), (-395.246045, 79.748293), (-394.804488, 80.073117), (-394.370559, 80.409418), (-393.94451, 80.757104), (-393.526595, 81.116083), (-393.117067, 81.486263), (-392.818167, 81.77312), (-392.527523, 82.067061), (-392.24522, 82.367886), (-391.971343, 82.675398), (-391.705975, 82.989398), (-391.449201, 83.309689), (-391.201107, 83.636071), (-390.961775, 83.968346), (-390.731291, 84.306317), (-390.509739, 84.649785), (-390.297204, 84.998552), (-390.09377, 85.352419), (-389.899521, 85.711189), (-389.714542, 86.074663), (-389.538918, 86.442642), (-389.372733, 86.81493), (-389.216072, 87.191326), (-389.069018, 87.571634), (-388.931656, 87.955655), (-388.804072, 88.34319), (-388.686349, 88.734042), (-388.578571, 89.128012), (-388.480824, 89.524901), (-388.393192, 89.924513), (-388.315758, 90.326648), (-388.248609, 90.731108), (-388.191828, 91.137695), (-388.145499, 91.546211), (-388.109707, 91.956457), (-388.084537, 92.368236), (-388.070073, 92.781348), (-388.0664, 93.195596), (-388.064754, 93.603165), (-388.07376, 94.009741), (-388.093338, 94.415129), (-388.123405, 94.819133), (-388.163881, 95.221556), (-388.214683, 95.622204), (-388.275731, 96.02088), (-388.346942, 96.417388), (-388.428235, 96.811533), (-388.519528, 97.203119), (-388.620741, 97.59195), (-388.731791, 97.977831), (-388.852596, 98.360565), (-388.983076, 98.739956), (-389.123149, 99.11581), (-389.272733, 99.48793), (-389.431747, 99.85612), (-389.600109, 100.220184), (-389.777737, 100.579927), (-389.964551, 100.935154), (-390.160468, 101.285667), (-390.365407, 101.631271), (-390.579287, 101.971771), (-390.802025, 102.306971), (-391.033541, 102.636675), (-391.273752, 102.960687), (-391.522578, 103.278811), (-391.779936, 103.590851), (-392.045746, 103.896613), (-392.319925, 104.195899), (-392.602393, 104.488514), (-392.893067, 104.774263), (-393.304758, 105.155864), (-393.725158, 105.526101), (-394.154009, 105.884878), (-394.591051, 106.232096), (-395.036024, 106.567658), (-395.48867, 106.891466), (-395.948729, 107.203422), (-396.415942, 107.50343), (-396.890049, 107.79139), (-397.370791, 108.067206), (-397.85791, 108.330779), (-398.351145, 108.582013), (-398.850237, 108.820809), (-399.354928, 109.04707), (-399.864957, 109.260698), (-400.380067, 109.461596), (-400.899996, 109.649666), (-401.424486, 109.82481), (-401.953279, 109.98693), (-402.486113, 110.13593), (-403.022731, 110.27171), (-403.562873, 110.394174), (-404.10628, 110.503225), (-404.652692, 110.598763), (-405.20185, 110.680692), (-405.753494, 110.748914), (-406.307367, 110.803331), (-406.863207, 110.843846), (-407.420757, 110.870361), (-407.979756, 110.882779), (-408.539946, 110.881001), (-409.101067, 110.86493), (-409.617699, 110.876898), (-410.133442, 110.875861), (-410.648061, 110.861908), (-411.161322, 110.835127), (-411.672991, 110.795609), (-412.182834, 110.743441), (-412.690618, 110.678713), (-413.196108, 110.601513), (-413.699071, 110.51193), (-414.199273, 110.410053), (-414.69648, 110.295971), (-415.190457, 110.169773), (-415.680972, 110.031548), (-416.16779, 109.881384), (-416.650677, 109.71937), (-417.1294, 109.545596), (-417.603724, 109.36015), (-418.073416, 109.163121), (-418.538242, 108.954598), (-418.997968, 108.734669), (-419.452359, 108.503424), (-419.901183, 108.260952), (-420.344205, 108.007341), (-420.781192, 107.74268), (-421.211908, 107.467058), (-421.636122, 107.180564), (-422.053598, 106.883287), (-422.464103, 106.575315), (-422.867403, 106.256738), (-423.263264, 105.927644), (-423.651452, 105.588123), (-424.031733, 105.238263), (-424.323072, 104.935858), (-424.606039, 104.62677), (-424.880557, 104.311193), (-425.146551, 103.98932), (-425.403946, 103.661344), (-425.652665, 103.327456), (-425.892633, 102.987851), (-426.123775, 102.642721), (-426.346014, 102.292259), (-426.559276, 101.936658), (-426.763483, 101.576111), (-426.958561, 101.21081), (-427.144434, 100.840948), (-427.321027, 100.466719), (-427.488263, 100.088315), (-427.646067, 99.70593), (-427.794363, 99.319755), (-427.933075, 98.929984), (-428.062128, 98.536809), (-428.181447, 98.140424), (-428.290955, 97.741022), (-428.390576, 97.338795), (-428.480236, 96.933936), (-428.559858, 96.526638), (-428.629367, 96.117094), (-428.688687, 95.705497), (-428.737742, 95.292039), (-428.776457, 94.876914), (-428.804756, 94.460314), (-428.822563, 94.042433), align=None)
    extrude(amount=F1_DEPTH)


with BuildPart() as f2:
    # F0 (on Front) → F2 (new body)
    with BuildSketch(Plane.XZ):
        Polygon((267.412374, 1195.564006), (252.045387, 1195.564006), (17.917503, 1060.392228), (17.917503, -945.019821), (267.418474, -1194.525969), align=None)
        with BuildLine():
            ThreePointArc((135.340474, -800.783006), (136.438824, -798.131356), (139.090474, -797.033006))
            ThreePointArc((139.090474, -797.033006), (141.742124, -798.131356), (142.840474, -800.783006))
            ThreePointArc((142.840474, -800.783006), (141.742124, -803.434656), (139.090474, -804.533006))
            ThreePointArc((139.090474, -804.533006), (136.438824, -803.434656), (135.340474, -800.783006))
        make_face(mode=Mode.SUBTRACT)
        Polygon((146.818093, -17.164794), (132.159427, -17.164794), (132.159427, 22.811206), (146.818093, 22.811206), (147.165512, 22.794757), (147.511665, 22.769461), (147.856394, 22.735391), (148.199541, 22.692622), (148.540951, 22.641228), (148.880464, 22.581284), (149.217925, 22.512863), (149.553177, 22.436039), (149.886061, 22.350887), (150.21642, 22.257482), (150.544098, 22.155896), (150.868937, 22.046206), (151.19078, 21.928484), (151.50947, 21.802805), (151.824849, 21.669243), (152.13676, 21.527872), (152.445046, 21.378768), (152.74955, 21.222003), (153.050115, 21.057652), (153.346583, 20.885789), (153.638797, 20.706489), (153.9266, 20.519825), (154.209834, 20.325873), (154.488343, 20.124706), (154.761969, 19.916398), (155.030556, 19.701023), (155.293944, 19.478657), (155.551979, 19.249372), (155.804501, 19.013244), (156.051355, 18.770346), (156.292383, 18.520753), (156.527427, 18.264539), (156.928237, 17.852099), (157.317597, 17.430453), (157.695399, 16.999866), (158.061536, 16.560602), (158.415902, 16.112923), (158.75839, 15.657094), (159.088892, 15.193378), (159.407302, 14.722039), (159.713512, 14.243341), (160.007417, 13.757547), (160.288908, 13.264921), (160.55788, 12.765727), (160.814224, 12.260228), (161.057835, 11.748687), (161.288605, 11.23137), (161.506427, 10.708539), (161.711194, 10.180458), (161.9028, 9.647391), (162.081137, 9.109601), (162.246099, 8.567352), (162.397578, 8.020907), (162.535468, 7.470531), (162.659661, 6.916487), (162.770052, 6.359039), (162.866532, 5.79845), (162.948995, 5.234984), (163.017334, 4.668905), (163.071442, 4.100477), (163.111213, 3.529962), (163.136538, 2.957625), (163.147312, 2.383729), (163.143427, 1.808539), (163.15512, 1.326622), (163.154752, 0.845515), (163.142404, 0.365434), (163.118156, -0.113404), (163.082087, -0.590783), (163.034278, -1.066486), (162.974809, -1.540298), (162.90376, -2.012003), (162.821211, -2.481383), (162.727242, -2.948222), (162.621933, -3.412305), (162.505364, -3.873414), (162.377616, -4.331334), (162.238768, -4.785848), (162.0889, -5.236741), (161.928093, -5.683794), (161.756427, -6.126793), (161.573981, -6.565522), (161.380836, -6.999762), (161.177072, -7.4293), (160.962769, -7.853917), (160.738007, -8.273398), (160.502866, -8.687526), (160.257427, -9.096086), (160.001768, -9.49886), (159.735971, -9.895634), (159.460115, -10.286189), (159.174281, -10.67031), (158.878548, -11.047781), (158.572997, -11.418385), (158.257708, -11.781906), (157.93276, -12.138128), (157.658976, -12.422435), (157.378738, -12.699306), (157.092217, -12.968663), (156.799583, -13.23043), (156.501008, -13.484528), (156.196662, -13.730882), (155.886717, -13.969413), (155.571343, -14.200044), (155.250712, -14.422699), (154.924993, -14.637301), (154.594358, -14.843771), (154.258979, -15.042034), (153.919025, -15.232011), (153.574668, -15.413626), (153.226078, -15.586802), (152.873427, -15.751461), (152.516885, -15.907526), (152.156623, -16.054921), (151.792813, -16.193567), (151.425625, -16.323388), (151.055229, -16.444307), (150.681798, -16.556246), (150.305501, -16.659129), (149.92651, -16.752878), (149.544995, -16.837416), (149.161128, -16.912665), (148.77508, -16.97855), (148.38702, -17.034992), (147.997121, -17.081915), (147.605553, -17.119241), (147.212487, -17.146893), align=None, mode=Mode.SUBTRACT)
        with BuildLine():
            ThreePointArc((129.472474, 143.954994), (130.570824, 146.606644), (133.222474, 147.704994))
            ThreePointArc((133.222474, 147.704994), (135.874124, 146.606644), (136.972474, 143.954994))
            ThreePointArc((136.972474, 143.954994), (135.874124, 141.303344), (133.222474, 140.204994))
            ThreePointArc((133.222474, 140.204994), (130.570824, 141.303344), (129.472474, 143.954994))
        make_face(mode=Mode.SUBTRACT)
        with BuildLine():
            ThreePointArc((147.076474, 807.031994), (148.174824, 809.683644), (150.826474, 810.781994))
            ThreePointArc((150.826474, 810.781994), (153.478124, 809.683644), (154.576474, 807.031994))
            ThreePointArc((154.576474, 807.031994), (153.478124, 804.380344), (150.826474, 803.281994))
            ThreePointArc((150.826474, 803.281994), (148.174824, 804.380344), (147.076474, 807.031994))
        make_face(mode=Mode.SUBTRACT)
        Polygon((132.159427, 22.811206), (132.159427, -17.164794), (146.818093, -17.164794), (147.212487, -17.146893), (147.605553, -17.119241), (147.997121, -17.081915), (148.38702, -17.034992), (148.77508, -16.97855), (149.161128, -16.912665), (149.544995, -16.837416), (149.92651, -16.752878), (150.305501, -16.659129), (150.681798, -16.556246), (151.055229, -16.444307), (151.425625, -16.323388), (151.792813, -16.193567), (152.156623, -16.054921), (152.516885, -15.907526), (152.873427, -15.751461), (153.226078, -15.586802), (153.574668, -15.413626), (153.919025, -15.232011), (154.258979, -15.042034), (154.594358, -14.843771), (154.924993, -14.637301), (155.250712, -14.422699), (155.571343, -14.200044), (155.886717, -13.969413), (156.196662, -13.730882), (156.501008, -13.484528), (156.799583, -13.23043), (157.092217, -12.968663), (157.378738, -12.699306), (157.658976, -12.422435), (157.93276, -12.138128), (158.257708, -11.781906), (158.572997, -11.418385), (158.878548, -11.047781), (159.174281, -10.67031), (159.460115, -10.286189), (159.735971, -9.895634), (160.001768, -9.49886), (160.257427, -9.096086), (160.502866, -8.687526), (160.738007, -8.273398), (160.962769, -7.853917), (161.177072, -7.4293), (161.380836, -6.999762), (161.573981, -6.565522), (161.756427, -6.126793), (161.928093, -5.683794), (162.0889, -5.236741), (162.238768, -4.785848), (162.377616, -4.331334), (162.505364, -3.873414), (162.621933, -3.412305), (162.727242, -2.948222), (162.821211, -2.481383), (162.90376, -2.012003), (162.974809, -1.540298), (163.034278, -1.066486), (163.082087, -0.590783), (163.118156, -0.113404), (163.142404, 0.365434), (163.154752, 0.845515), (163.15512, 1.326622), (163.143427, 1.808539), (163.147312, 2.383729), (163.136538, 2.957625), (163.111213, 3.529962), (163.071442, 4.100477), (163.017334, 4.668905), (162.948995, 5.234984), (162.866532, 5.79845), (162.770052, 6.359039), (162.659661, 6.916487), (162.535468, 7.470531), (162.397578, 8.020907), (162.246099, 8.567352), (162.081137, 9.109601), (161.9028, 9.647391), (161.711194, 10.180458), (161.506427, 10.708539), (161.288605, 11.23137), (161.057835, 11.748687), (160.814224, 12.260228), (160.55788, 12.765727), (160.288908, 13.264921), (160.007417, 13.757547), (159.713512, 14.243341), (159.407302, 14.722039), (159.088892, 15.193378), (158.75839, 15.657094), (158.415902, 16.112923), (158.061536, 16.560602), (157.695399, 16.999866), (157.317597, 17.430453), (156.928237, 17.852099), (156.527427, 18.264539), (156.292383, 18.520753), (156.051355, 18.770346), (155.804501, 19.013244), (155.551979, 19.249372), (155.293944, 19.478657), (155.030556, 19.701023), (154.761969, 19.916398), (154.488343, 20.124706), (154.209834, 20.325873), (153.9266, 20.519825), (153.638797, 20.706489), (153.346583, 20.885789), (153.050115, 21.057652), (152.74955, 21.222003), (152.445046, 21.378768), (152.13676, 21.527872), (151.824849, 21.669243), (151.50947, 21.802805), (151.19078, 21.928484), (150.868937, 22.046206), (150.544098, 22.155896), (150.21642, 22.257482), (149.886061, 22.350887), (149.553177, 22.436039), (149.217925, 22.512863), (148.880464, 22.581284), (148.540951, 22.641228), (148.199541, 22.692622), (147.856394, 22.735391), (147.511665, 22.769461), (147.165512, 22.794757), (146.818093, 22.811206), align=None)
    extrude(amount=F2_DEPTH)


solid = Compound([f1.part, f2.part])
